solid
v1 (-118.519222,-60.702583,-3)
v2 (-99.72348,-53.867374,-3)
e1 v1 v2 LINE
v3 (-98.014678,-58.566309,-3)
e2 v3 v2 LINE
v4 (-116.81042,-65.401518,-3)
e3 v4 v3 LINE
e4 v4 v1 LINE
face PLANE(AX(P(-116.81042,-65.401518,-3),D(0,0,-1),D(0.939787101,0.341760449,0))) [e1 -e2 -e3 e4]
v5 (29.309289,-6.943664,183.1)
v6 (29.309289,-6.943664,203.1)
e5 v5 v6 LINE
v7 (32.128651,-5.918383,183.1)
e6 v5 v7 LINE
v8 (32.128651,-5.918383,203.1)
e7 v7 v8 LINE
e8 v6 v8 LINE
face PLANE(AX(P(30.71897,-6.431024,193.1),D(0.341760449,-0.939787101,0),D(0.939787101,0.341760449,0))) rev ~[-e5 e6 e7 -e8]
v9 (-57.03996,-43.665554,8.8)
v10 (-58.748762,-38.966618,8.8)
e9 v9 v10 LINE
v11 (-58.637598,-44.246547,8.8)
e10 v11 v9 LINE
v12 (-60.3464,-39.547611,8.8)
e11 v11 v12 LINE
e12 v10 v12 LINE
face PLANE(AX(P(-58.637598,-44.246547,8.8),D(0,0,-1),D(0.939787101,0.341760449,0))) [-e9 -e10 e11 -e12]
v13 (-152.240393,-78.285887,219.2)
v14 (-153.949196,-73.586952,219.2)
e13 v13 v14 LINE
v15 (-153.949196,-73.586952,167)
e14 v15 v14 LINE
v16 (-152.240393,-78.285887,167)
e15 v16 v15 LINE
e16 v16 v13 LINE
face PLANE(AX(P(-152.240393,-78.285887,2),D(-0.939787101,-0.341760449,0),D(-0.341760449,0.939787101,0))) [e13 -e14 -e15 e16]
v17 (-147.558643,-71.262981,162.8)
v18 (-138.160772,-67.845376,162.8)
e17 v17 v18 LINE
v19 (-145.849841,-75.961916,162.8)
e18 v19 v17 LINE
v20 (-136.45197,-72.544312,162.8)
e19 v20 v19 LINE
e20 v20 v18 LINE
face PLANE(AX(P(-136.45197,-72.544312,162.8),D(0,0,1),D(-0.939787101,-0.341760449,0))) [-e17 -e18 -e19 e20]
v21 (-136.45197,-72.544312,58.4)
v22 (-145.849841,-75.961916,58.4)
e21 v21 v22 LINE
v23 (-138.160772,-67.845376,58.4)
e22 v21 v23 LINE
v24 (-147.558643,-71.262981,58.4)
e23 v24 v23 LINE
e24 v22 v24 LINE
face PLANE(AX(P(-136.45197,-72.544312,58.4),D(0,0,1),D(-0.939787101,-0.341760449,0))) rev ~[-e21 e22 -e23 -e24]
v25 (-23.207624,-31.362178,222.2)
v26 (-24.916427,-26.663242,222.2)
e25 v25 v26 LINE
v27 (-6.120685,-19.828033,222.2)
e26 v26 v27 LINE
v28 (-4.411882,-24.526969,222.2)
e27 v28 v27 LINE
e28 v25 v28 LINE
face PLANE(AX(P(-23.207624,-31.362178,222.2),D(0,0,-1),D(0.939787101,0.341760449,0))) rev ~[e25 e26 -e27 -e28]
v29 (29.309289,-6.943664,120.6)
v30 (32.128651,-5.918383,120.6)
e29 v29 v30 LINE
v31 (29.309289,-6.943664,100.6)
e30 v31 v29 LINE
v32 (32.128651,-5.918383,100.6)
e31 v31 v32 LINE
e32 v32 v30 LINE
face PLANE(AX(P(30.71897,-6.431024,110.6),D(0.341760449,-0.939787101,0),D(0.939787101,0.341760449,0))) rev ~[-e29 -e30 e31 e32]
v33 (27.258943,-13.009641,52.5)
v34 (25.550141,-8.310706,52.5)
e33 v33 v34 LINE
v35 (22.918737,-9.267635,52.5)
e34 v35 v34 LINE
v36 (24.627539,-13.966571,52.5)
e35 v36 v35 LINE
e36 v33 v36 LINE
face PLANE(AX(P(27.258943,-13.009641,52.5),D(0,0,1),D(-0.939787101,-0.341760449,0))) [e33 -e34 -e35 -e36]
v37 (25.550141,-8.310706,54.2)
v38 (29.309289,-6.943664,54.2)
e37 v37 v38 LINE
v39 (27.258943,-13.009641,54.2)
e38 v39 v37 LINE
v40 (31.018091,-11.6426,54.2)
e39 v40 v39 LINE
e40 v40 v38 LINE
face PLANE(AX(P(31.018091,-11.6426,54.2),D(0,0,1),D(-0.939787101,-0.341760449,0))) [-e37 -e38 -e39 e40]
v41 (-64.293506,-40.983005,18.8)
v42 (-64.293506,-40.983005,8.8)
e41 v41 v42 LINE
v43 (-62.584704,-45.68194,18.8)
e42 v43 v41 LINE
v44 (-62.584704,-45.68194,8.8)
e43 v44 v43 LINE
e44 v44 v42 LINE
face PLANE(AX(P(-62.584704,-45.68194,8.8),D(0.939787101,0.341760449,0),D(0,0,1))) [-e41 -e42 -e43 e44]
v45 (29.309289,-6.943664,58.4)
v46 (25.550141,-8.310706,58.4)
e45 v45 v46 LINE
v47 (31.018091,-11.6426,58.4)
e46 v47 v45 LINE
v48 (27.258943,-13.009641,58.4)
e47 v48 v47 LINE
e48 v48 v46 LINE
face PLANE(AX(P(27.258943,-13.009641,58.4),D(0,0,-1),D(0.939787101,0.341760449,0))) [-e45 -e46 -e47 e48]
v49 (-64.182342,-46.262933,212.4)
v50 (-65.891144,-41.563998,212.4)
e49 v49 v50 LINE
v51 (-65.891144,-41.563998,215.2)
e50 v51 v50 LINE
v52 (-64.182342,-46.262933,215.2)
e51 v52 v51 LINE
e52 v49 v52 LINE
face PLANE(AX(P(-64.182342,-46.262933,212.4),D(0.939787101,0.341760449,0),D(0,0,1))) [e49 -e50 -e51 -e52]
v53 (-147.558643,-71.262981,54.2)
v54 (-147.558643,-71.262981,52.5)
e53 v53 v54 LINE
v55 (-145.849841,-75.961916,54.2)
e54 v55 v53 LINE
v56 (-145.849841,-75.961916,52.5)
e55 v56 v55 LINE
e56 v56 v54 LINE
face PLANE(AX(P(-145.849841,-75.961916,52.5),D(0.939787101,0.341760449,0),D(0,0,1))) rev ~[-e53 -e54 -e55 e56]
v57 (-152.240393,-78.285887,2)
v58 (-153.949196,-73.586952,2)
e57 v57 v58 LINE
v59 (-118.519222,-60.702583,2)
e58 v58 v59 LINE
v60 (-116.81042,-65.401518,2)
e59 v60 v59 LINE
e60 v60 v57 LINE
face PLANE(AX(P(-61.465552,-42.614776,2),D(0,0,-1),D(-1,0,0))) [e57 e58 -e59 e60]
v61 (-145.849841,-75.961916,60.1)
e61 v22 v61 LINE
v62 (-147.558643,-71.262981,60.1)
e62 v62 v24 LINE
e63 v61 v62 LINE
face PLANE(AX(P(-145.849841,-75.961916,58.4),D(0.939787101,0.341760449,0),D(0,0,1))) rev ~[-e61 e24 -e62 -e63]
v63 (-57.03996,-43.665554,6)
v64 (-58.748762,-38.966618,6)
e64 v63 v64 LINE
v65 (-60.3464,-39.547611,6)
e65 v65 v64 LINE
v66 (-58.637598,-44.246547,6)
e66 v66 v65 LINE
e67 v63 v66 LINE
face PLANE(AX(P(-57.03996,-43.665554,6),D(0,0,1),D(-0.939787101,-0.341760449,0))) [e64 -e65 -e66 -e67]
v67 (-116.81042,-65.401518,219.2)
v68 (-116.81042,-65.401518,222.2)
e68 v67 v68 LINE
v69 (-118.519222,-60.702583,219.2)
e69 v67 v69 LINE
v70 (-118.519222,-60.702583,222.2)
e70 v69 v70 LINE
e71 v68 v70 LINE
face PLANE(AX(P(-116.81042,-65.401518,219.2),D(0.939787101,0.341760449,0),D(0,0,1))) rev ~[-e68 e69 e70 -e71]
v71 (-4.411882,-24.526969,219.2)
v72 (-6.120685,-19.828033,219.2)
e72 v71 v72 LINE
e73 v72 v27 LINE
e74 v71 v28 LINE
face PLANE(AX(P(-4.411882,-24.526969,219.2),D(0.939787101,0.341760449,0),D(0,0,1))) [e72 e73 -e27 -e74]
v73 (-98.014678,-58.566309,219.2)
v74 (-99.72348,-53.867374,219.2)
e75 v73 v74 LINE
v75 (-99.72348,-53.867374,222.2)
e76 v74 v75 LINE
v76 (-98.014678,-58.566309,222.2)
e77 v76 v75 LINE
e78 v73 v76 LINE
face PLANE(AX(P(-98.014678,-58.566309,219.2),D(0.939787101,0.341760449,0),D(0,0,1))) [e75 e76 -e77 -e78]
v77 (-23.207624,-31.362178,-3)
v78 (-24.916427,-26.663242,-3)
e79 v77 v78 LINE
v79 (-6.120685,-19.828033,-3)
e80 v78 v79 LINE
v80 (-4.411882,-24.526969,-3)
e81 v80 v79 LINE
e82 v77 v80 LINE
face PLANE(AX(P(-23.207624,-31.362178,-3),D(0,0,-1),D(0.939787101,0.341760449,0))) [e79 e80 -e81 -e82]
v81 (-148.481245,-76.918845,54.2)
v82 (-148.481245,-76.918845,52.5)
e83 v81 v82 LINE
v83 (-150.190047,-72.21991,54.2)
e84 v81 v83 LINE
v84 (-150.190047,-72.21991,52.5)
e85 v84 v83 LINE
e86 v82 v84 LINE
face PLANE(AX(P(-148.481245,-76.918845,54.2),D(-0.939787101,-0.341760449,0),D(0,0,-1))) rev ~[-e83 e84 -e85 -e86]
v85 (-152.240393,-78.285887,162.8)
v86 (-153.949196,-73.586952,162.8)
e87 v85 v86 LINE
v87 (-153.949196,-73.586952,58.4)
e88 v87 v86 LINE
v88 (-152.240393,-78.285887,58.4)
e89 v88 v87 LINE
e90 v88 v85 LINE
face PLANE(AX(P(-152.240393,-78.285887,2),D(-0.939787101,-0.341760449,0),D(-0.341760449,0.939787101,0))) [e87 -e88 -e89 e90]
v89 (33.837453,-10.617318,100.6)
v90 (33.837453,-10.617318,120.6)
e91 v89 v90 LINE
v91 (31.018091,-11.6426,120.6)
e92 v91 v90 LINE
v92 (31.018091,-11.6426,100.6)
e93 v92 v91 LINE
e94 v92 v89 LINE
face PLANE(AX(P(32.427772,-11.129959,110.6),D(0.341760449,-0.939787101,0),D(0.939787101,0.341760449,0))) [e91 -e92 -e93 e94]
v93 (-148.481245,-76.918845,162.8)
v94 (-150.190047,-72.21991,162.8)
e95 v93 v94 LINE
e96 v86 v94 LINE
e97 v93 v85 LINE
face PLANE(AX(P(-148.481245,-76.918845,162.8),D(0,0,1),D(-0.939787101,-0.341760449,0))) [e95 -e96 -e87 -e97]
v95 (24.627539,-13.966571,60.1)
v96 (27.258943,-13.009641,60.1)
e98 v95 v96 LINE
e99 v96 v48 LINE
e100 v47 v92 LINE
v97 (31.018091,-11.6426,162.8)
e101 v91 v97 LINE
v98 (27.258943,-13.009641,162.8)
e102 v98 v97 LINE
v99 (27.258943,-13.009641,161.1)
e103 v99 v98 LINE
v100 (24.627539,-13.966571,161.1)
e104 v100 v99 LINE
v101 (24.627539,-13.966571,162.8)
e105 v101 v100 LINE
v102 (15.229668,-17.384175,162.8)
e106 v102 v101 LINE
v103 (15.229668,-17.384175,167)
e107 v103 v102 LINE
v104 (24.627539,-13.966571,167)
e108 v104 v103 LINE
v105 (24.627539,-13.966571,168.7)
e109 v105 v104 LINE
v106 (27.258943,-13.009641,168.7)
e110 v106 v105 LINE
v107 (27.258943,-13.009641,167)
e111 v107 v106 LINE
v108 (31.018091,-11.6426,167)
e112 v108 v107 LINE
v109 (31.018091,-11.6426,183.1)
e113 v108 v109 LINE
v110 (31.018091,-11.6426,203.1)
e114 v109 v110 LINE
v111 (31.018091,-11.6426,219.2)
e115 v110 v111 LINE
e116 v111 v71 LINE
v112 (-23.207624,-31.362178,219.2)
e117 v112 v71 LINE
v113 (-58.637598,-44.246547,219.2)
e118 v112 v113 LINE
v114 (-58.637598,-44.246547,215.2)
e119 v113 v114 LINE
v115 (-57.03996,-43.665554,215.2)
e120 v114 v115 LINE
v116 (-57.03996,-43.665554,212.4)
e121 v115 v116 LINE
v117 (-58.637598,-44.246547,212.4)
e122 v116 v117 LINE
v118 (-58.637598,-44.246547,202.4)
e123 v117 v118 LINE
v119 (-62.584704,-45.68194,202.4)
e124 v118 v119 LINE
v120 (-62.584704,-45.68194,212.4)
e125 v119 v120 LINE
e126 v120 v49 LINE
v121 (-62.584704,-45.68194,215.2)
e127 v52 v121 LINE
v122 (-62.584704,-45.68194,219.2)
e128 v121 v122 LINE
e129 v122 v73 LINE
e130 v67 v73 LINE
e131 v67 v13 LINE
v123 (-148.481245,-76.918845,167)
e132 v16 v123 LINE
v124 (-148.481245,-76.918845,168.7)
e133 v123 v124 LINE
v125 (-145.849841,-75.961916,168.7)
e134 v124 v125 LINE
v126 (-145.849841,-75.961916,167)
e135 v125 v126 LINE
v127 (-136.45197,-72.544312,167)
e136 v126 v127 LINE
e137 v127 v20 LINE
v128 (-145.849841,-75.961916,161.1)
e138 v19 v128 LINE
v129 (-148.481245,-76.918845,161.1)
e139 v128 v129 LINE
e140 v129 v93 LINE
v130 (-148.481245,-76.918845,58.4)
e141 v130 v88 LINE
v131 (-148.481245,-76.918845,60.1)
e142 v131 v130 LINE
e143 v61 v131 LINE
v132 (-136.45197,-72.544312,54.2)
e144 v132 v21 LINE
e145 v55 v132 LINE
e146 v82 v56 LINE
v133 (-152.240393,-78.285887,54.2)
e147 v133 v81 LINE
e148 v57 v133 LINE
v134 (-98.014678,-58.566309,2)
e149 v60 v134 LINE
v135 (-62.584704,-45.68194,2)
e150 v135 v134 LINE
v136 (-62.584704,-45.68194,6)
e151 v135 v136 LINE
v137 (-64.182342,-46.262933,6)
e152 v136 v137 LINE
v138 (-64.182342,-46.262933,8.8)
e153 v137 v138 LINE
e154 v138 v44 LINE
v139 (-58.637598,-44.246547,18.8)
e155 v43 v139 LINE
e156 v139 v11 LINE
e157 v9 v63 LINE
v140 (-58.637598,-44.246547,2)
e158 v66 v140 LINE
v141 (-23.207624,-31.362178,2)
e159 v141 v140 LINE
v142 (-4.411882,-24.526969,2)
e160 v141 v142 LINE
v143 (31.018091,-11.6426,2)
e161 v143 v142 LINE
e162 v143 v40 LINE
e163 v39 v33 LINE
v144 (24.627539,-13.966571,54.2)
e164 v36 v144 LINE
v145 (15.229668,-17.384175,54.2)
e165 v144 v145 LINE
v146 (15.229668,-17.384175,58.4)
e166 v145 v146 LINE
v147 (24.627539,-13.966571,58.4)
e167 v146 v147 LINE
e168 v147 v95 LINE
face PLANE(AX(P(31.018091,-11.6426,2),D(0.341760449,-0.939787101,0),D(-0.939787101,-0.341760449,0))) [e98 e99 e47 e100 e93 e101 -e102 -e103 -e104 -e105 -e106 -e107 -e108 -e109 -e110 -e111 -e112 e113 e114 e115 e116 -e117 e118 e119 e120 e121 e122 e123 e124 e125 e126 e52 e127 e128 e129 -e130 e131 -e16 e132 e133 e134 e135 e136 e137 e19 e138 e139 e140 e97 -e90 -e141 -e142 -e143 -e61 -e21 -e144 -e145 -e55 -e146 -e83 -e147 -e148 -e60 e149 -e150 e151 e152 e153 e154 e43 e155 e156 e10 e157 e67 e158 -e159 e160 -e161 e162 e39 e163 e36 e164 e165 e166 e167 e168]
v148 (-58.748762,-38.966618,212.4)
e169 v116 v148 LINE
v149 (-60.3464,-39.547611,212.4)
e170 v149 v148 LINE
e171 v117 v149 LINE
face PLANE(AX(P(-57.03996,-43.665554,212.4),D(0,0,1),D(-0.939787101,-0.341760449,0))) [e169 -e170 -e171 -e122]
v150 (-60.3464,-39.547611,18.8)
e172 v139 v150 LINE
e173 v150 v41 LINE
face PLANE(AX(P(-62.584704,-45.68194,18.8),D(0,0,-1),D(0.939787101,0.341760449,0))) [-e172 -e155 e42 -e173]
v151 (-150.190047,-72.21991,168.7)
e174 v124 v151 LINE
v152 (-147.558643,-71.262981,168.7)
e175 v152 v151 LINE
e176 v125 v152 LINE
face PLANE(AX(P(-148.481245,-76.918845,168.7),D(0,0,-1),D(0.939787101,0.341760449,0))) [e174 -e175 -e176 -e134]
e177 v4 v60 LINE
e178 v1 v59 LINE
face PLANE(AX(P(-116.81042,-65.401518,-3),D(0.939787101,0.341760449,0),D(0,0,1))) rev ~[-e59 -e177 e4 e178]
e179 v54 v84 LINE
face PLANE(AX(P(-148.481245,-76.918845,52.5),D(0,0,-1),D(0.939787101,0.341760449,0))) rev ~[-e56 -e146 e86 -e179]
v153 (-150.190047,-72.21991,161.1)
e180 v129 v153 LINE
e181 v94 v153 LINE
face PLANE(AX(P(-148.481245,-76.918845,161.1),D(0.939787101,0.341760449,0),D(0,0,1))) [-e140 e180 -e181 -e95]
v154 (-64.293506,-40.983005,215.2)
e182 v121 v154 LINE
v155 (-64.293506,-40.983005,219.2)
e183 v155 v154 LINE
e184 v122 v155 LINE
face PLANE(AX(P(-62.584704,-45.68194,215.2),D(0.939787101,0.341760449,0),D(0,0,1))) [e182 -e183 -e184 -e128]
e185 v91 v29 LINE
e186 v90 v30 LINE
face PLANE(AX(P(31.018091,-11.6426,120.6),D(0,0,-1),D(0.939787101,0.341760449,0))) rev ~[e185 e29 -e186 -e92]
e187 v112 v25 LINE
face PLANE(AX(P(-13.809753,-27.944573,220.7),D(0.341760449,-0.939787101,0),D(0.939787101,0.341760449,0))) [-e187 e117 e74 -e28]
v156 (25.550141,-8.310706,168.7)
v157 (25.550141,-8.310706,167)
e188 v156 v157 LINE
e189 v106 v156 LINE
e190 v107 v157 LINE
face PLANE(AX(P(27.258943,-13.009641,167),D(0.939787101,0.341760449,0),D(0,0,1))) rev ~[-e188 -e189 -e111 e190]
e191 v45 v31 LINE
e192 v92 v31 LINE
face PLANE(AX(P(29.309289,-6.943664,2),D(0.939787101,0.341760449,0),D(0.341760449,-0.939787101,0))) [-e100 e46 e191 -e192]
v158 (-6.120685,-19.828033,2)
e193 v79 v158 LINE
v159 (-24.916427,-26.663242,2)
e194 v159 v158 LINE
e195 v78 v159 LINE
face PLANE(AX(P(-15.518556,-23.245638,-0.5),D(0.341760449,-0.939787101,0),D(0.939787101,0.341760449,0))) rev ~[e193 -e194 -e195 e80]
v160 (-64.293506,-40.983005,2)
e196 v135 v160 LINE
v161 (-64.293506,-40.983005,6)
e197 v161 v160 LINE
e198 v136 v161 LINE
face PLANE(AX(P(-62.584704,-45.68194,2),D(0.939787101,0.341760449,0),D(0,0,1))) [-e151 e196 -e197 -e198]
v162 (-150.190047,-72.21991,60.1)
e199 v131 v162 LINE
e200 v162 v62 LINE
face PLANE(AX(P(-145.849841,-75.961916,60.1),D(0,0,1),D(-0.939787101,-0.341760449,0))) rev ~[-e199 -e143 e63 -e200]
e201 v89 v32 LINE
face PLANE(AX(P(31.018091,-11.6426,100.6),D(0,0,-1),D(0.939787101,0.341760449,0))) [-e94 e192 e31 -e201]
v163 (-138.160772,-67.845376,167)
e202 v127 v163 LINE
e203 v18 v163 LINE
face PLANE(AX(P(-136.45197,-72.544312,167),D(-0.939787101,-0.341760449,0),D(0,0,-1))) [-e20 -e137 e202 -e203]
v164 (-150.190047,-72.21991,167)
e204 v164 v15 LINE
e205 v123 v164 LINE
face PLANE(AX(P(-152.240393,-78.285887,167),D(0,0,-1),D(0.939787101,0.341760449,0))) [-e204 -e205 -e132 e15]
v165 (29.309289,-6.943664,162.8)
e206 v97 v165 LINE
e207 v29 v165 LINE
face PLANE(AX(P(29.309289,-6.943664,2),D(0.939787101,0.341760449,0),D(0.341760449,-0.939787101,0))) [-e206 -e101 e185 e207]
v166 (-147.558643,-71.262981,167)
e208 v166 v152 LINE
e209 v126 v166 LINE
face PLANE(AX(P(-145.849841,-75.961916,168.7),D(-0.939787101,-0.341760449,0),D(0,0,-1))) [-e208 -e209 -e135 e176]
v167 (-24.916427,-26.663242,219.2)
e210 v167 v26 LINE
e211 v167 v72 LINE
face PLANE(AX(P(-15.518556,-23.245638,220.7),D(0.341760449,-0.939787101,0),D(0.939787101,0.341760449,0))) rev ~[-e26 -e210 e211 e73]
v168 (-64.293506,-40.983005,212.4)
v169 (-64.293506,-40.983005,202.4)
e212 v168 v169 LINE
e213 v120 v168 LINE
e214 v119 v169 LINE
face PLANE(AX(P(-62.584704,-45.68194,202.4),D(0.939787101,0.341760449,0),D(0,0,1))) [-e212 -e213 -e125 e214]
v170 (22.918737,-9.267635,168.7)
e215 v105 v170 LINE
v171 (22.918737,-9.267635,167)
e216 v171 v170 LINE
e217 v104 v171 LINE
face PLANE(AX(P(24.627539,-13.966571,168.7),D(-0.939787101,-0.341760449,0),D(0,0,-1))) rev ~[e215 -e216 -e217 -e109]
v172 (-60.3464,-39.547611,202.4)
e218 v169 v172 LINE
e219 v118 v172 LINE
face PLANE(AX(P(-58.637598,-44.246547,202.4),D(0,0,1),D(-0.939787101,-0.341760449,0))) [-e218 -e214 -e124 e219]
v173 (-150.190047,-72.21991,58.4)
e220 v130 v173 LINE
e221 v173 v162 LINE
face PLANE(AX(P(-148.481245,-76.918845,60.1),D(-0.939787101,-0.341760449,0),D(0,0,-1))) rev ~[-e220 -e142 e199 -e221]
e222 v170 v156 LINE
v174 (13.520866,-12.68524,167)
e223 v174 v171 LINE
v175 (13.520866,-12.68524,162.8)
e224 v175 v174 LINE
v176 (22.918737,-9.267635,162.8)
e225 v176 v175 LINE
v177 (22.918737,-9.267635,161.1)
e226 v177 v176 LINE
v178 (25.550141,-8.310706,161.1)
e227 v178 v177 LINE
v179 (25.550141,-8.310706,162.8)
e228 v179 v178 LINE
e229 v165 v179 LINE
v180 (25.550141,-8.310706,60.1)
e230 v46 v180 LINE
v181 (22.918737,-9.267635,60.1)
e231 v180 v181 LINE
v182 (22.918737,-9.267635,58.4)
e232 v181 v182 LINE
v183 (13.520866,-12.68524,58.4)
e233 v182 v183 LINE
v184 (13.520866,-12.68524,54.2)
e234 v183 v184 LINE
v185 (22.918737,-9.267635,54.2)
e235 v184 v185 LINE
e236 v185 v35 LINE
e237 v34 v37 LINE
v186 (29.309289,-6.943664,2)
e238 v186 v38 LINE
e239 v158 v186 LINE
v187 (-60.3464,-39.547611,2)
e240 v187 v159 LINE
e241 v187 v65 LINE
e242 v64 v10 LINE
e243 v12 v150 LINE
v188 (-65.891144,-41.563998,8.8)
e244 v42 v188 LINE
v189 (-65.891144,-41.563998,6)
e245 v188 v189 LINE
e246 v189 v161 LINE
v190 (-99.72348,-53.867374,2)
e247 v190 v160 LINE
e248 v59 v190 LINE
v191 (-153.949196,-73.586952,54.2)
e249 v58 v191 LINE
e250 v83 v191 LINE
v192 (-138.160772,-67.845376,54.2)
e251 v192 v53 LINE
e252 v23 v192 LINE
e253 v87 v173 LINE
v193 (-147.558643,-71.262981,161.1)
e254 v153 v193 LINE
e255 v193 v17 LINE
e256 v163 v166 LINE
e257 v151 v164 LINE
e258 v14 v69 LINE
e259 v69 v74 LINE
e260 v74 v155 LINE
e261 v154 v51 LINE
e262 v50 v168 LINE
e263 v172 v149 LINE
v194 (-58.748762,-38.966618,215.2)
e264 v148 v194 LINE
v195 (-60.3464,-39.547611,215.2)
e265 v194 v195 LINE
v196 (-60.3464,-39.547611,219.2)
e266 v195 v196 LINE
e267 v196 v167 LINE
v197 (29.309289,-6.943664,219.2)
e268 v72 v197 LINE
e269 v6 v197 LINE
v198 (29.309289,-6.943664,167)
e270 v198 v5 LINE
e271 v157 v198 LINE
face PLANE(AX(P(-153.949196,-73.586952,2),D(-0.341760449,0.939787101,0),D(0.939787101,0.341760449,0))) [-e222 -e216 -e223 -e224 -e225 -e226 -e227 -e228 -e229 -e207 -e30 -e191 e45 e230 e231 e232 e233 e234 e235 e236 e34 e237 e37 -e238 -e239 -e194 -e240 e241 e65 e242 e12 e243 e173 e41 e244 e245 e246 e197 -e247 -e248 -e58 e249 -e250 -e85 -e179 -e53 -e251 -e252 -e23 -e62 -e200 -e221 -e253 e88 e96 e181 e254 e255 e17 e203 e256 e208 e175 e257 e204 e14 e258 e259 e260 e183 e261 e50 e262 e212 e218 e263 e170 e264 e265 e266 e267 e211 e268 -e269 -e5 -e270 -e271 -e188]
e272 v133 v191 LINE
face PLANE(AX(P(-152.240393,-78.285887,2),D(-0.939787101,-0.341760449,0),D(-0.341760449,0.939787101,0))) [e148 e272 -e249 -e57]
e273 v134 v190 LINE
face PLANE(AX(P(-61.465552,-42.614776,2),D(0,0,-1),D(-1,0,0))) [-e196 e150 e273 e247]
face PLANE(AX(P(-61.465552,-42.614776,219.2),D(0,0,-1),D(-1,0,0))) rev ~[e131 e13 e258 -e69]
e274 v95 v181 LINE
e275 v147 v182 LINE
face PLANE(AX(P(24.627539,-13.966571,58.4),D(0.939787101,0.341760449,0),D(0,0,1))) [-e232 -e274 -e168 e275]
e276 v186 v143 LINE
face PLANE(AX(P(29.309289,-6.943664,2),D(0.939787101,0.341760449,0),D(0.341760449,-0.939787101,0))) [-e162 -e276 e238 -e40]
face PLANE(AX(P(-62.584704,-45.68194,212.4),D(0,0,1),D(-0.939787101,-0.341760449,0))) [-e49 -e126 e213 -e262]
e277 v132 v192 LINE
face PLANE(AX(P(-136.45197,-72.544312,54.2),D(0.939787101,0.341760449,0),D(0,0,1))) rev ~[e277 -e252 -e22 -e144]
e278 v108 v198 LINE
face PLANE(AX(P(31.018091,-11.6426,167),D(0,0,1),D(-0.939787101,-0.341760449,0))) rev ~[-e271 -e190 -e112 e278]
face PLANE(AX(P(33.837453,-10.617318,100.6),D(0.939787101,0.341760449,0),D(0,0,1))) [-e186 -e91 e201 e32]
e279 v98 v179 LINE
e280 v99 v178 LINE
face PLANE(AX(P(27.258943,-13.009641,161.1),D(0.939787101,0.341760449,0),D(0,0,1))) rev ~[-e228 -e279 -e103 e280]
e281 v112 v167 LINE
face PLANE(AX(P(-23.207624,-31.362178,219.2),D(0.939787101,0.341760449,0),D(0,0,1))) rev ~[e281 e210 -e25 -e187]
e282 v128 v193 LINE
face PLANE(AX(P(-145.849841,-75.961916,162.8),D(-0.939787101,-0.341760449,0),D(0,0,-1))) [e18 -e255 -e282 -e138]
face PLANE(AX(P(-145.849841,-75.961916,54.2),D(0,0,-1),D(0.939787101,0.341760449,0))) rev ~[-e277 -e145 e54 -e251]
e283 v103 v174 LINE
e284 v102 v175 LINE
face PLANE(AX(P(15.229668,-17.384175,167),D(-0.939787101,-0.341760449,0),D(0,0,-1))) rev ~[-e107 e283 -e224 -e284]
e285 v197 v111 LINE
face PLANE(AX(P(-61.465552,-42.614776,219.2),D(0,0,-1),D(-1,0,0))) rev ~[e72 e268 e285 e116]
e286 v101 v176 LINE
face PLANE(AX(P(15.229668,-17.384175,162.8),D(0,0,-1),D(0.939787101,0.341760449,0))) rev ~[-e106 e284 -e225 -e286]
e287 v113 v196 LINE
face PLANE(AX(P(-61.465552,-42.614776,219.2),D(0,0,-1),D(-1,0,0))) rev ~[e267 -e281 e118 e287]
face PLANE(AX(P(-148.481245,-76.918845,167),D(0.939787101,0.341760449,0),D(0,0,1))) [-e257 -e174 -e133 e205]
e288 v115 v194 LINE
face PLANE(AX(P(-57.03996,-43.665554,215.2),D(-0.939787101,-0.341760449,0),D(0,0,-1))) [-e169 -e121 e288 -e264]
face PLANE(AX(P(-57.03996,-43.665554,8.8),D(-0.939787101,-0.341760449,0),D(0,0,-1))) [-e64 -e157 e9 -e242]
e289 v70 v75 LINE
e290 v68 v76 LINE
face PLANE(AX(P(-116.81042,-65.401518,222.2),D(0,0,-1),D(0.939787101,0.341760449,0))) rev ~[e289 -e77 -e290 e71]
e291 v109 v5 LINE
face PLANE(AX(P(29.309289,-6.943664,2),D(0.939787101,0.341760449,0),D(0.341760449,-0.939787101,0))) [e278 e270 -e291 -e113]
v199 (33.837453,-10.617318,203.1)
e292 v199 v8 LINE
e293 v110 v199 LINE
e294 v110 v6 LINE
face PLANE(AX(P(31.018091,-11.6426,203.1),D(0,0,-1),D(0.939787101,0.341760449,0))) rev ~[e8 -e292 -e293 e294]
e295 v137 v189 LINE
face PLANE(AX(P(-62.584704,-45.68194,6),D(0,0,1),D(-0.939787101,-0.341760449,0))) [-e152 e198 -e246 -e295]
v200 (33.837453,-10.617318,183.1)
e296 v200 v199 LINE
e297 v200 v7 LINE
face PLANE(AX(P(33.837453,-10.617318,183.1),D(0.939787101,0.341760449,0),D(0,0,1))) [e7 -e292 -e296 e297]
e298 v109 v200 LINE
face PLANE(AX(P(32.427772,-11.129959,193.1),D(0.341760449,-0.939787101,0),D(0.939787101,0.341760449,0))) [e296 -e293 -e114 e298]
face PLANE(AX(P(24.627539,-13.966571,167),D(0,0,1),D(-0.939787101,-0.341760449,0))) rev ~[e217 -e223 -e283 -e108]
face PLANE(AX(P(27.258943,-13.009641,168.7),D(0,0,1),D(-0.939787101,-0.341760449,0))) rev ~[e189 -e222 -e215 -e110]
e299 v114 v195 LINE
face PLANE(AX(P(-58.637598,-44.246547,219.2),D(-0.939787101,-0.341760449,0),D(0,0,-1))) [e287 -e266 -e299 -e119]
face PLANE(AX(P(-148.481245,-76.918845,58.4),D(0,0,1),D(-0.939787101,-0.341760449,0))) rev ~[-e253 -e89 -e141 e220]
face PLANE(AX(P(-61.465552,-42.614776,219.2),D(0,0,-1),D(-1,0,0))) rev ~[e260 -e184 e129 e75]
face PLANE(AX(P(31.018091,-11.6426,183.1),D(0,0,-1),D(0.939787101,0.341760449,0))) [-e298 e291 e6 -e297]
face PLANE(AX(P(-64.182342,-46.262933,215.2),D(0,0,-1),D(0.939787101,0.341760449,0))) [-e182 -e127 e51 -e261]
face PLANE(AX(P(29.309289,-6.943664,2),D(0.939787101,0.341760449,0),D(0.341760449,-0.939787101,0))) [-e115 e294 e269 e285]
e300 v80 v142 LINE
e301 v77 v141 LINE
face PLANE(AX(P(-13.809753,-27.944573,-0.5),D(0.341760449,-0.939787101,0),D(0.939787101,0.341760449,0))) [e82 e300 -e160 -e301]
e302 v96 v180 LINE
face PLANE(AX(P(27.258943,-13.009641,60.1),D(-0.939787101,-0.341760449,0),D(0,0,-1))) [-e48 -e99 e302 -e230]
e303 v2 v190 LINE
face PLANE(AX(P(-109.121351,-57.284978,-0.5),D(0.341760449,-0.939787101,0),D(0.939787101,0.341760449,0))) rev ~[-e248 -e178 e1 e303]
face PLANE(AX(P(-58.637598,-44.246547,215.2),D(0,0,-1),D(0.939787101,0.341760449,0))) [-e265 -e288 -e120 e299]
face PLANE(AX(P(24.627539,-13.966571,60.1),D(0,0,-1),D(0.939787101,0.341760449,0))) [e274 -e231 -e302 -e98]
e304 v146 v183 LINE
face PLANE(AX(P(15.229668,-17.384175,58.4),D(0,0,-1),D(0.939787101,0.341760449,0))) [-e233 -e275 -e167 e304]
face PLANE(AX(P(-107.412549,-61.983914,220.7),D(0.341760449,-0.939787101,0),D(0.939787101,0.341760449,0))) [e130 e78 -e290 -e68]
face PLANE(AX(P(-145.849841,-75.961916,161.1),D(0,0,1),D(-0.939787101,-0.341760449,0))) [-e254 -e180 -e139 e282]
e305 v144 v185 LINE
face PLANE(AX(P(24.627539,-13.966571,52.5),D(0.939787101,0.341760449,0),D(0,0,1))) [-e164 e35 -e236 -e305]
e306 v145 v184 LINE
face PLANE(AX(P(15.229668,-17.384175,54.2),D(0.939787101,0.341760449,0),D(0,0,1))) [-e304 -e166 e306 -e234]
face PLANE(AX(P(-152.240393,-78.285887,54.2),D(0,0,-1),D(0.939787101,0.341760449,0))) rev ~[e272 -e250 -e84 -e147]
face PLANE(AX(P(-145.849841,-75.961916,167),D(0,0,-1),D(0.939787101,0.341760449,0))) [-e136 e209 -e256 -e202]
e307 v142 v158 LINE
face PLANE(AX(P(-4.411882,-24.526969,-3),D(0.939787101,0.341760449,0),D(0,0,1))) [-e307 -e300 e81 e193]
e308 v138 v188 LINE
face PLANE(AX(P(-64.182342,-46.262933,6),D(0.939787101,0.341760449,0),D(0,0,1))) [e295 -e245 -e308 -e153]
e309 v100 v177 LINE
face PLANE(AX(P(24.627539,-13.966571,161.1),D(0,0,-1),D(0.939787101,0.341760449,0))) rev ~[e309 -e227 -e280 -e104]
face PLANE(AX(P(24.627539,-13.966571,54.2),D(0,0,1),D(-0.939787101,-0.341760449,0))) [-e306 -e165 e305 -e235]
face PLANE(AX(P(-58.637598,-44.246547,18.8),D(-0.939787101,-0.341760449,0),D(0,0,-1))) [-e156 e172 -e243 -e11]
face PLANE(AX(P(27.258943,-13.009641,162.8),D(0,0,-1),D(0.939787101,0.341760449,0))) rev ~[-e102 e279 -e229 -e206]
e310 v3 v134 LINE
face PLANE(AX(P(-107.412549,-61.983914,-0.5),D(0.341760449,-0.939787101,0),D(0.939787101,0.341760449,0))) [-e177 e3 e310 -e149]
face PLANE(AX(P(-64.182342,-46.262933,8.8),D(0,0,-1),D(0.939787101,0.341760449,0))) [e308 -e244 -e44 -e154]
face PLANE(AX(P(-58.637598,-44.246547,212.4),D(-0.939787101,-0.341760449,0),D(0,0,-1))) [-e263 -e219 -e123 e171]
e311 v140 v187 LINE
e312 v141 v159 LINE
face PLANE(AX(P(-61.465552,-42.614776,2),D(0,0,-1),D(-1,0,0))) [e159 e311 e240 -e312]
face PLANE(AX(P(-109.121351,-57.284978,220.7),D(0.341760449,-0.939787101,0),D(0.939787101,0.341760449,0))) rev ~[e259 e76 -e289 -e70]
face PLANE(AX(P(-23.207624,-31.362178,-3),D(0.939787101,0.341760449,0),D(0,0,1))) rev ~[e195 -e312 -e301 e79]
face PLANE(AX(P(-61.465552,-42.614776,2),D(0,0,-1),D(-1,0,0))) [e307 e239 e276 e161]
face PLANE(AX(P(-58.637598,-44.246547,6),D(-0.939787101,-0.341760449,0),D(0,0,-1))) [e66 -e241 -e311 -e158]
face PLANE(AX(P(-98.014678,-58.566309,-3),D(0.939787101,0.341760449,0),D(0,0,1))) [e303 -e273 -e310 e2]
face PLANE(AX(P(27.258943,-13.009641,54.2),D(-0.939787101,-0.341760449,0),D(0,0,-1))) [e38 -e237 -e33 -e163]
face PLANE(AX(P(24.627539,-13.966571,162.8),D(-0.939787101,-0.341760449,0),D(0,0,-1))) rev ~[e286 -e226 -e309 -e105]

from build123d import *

# Parameters (mm, degrees)
BOSS_EXTRUDE1_DEPTH = 217.2
CUT_EXTRUDE3_DEPTH  = 68.63050203
SKETCH5_W           = 20
SKETCH5_H           = 5
SKETCH5_W_2         = 3
SKETCH5_H_2         = 20
SKETCH5_H_3         = 3
BOSS_EXTRUDE2_DEPTH = 5


with BuildPart() as part:
    # Sketch2 → Boss-Extrude1 (new body)
    with BuildSketch(Plane.XY.offset(2)):
        Polygon((29.309289207, -6.943664177), (31.018091452, -11.642599682), (-152.24039327, -78.285887246), (-153.949195515, -73.586951741), align=None)
    extrude(amount=BOSS_EXTRUDE1_DEPTH)

    # Sketch4 → Cut-Extrude3 (cut, through all)
    with BuildSketch(Plane(origin=(7.362313595, -20.245196221, 0), x_dir=(-0.939787101, -0.341760449, 0), z_dir=(0.341760449, -0.939787101, 0))):
        Polygon((70.228577846, -2), (74.428577846, -2), (74.428577846, -6), (76.128577846, -6), (76.128577846, -8.8), (74.428577846, -8.8), (74.428577846, -18.8), (70.228577846, -18.8), (70.228577846, -8.8), (68.528577846, -8.8), (68.528577846, -6), (70.228577846, -6), align=None)
        Polygon((-25.171422154, -58.4), (-25.171422154, -54.2), (-21.171422154, -54.2), (-21.171422154, -52.5), (-18.371422154, -52.5), (-18.371422154, -54.2), (-8.371422154, -54.2), (-8.371422154, -58.4), (-18.371422154, -58.4), (-18.371422154, -60.1), (-21.171422154, -60.1), (-21.171422154, -58.4), align=None)
        Polygon((74.428577846, -219.2), (70.228577846, -219.2), (70.228577846, -215.2), (68.528577846, -215.2), (68.528577846, -212.4), (70.228577846, -212.4), (70.228577846, -202.4), (74.428577846, -202.4), (74.428577846, -212.4), (76.128577846, -212.4), (76.128577846, -215.2), (74.428577846, -215.2), align=None)
        Polygon((-21.171422154, -167), (-21.171422154, -168.7), (-18.371422154, -168.7), (-18.371422154, -167), (-8.371422154, -167), (-8.371422154, -162.8), (-18.371422154, -162.8), (-18.371422154, -161.1), (-21.171422154, -161.1), (-21.171422154, -162.8), (-25.171422154, -162.8), (-25.171422154, -167), align=None)
        Polygon((169.828577846, -162.8), (169.828577846, -167), (165.828577846, -167), (165.828577846, -168.7), (163.028577846, -168.7), (163.028577846, -167), (153.028577846, -167), (153.028577846, -162.8), (163.028577846, -162.8), (163.028577846, -161.1), (165.828577846, -161.1), (165.828577846, -162.8), align=None)
        Polygon((165.828577846, -54.2), (165.828577846, -52.5), (163.028577846, -52.5), (163.028577846, -54.2), (153.028577846, -54.2), (153.028577846, -58.4), (163.028577846, -58.4), (163.028577846, -60.1), (165.828577846, -60.1), (165.828577846, -58.4), (169.828577846, -58.4), (169.828577846, -54.2), align=None)
    extrude(amount=-CUT_EXTRUDE3_DEPTH, mode=Mode.SUBTRACT)

    # Sketch5 → Boss-Extrude2 (add)
    with BuildSketch(Plane(origin=(7.362313595, -20.245196221, 0), x_dir=(0.939787101, 0.341760449, 0), z_dir=(0.341760449, -0.939787101, 0))):
        with Locations((-22.528577846, -0.5)):
            Rectangle(SKETCH5_W, SKETCH5_H)
        with Locations((-122.128577846, -0.5)):
            Rectangle(SKETCH5_W, SKETCH5_H)
        with Locations((26.671422154, 110.6)):
            Rectangle(SKETCH5_W_2, SKETCH5_H_2)
        with Locations((26.671422154, 193.1)):
            Rectangle(SKETCH5_W_2, SKETCH5_H_2)
        with Locations((-22.528577846, 220.7)):
            Rectangle(SKETCH5_W, SKETCH5_H_3)
        with Locations((-122.128577846, 220.7)):
            Rectangle(SKETCH5_W, SKETCH5_H_3)
    extrude(amount=-BOSS_EXTRUDE2_DEPTH)


solid = part.part
